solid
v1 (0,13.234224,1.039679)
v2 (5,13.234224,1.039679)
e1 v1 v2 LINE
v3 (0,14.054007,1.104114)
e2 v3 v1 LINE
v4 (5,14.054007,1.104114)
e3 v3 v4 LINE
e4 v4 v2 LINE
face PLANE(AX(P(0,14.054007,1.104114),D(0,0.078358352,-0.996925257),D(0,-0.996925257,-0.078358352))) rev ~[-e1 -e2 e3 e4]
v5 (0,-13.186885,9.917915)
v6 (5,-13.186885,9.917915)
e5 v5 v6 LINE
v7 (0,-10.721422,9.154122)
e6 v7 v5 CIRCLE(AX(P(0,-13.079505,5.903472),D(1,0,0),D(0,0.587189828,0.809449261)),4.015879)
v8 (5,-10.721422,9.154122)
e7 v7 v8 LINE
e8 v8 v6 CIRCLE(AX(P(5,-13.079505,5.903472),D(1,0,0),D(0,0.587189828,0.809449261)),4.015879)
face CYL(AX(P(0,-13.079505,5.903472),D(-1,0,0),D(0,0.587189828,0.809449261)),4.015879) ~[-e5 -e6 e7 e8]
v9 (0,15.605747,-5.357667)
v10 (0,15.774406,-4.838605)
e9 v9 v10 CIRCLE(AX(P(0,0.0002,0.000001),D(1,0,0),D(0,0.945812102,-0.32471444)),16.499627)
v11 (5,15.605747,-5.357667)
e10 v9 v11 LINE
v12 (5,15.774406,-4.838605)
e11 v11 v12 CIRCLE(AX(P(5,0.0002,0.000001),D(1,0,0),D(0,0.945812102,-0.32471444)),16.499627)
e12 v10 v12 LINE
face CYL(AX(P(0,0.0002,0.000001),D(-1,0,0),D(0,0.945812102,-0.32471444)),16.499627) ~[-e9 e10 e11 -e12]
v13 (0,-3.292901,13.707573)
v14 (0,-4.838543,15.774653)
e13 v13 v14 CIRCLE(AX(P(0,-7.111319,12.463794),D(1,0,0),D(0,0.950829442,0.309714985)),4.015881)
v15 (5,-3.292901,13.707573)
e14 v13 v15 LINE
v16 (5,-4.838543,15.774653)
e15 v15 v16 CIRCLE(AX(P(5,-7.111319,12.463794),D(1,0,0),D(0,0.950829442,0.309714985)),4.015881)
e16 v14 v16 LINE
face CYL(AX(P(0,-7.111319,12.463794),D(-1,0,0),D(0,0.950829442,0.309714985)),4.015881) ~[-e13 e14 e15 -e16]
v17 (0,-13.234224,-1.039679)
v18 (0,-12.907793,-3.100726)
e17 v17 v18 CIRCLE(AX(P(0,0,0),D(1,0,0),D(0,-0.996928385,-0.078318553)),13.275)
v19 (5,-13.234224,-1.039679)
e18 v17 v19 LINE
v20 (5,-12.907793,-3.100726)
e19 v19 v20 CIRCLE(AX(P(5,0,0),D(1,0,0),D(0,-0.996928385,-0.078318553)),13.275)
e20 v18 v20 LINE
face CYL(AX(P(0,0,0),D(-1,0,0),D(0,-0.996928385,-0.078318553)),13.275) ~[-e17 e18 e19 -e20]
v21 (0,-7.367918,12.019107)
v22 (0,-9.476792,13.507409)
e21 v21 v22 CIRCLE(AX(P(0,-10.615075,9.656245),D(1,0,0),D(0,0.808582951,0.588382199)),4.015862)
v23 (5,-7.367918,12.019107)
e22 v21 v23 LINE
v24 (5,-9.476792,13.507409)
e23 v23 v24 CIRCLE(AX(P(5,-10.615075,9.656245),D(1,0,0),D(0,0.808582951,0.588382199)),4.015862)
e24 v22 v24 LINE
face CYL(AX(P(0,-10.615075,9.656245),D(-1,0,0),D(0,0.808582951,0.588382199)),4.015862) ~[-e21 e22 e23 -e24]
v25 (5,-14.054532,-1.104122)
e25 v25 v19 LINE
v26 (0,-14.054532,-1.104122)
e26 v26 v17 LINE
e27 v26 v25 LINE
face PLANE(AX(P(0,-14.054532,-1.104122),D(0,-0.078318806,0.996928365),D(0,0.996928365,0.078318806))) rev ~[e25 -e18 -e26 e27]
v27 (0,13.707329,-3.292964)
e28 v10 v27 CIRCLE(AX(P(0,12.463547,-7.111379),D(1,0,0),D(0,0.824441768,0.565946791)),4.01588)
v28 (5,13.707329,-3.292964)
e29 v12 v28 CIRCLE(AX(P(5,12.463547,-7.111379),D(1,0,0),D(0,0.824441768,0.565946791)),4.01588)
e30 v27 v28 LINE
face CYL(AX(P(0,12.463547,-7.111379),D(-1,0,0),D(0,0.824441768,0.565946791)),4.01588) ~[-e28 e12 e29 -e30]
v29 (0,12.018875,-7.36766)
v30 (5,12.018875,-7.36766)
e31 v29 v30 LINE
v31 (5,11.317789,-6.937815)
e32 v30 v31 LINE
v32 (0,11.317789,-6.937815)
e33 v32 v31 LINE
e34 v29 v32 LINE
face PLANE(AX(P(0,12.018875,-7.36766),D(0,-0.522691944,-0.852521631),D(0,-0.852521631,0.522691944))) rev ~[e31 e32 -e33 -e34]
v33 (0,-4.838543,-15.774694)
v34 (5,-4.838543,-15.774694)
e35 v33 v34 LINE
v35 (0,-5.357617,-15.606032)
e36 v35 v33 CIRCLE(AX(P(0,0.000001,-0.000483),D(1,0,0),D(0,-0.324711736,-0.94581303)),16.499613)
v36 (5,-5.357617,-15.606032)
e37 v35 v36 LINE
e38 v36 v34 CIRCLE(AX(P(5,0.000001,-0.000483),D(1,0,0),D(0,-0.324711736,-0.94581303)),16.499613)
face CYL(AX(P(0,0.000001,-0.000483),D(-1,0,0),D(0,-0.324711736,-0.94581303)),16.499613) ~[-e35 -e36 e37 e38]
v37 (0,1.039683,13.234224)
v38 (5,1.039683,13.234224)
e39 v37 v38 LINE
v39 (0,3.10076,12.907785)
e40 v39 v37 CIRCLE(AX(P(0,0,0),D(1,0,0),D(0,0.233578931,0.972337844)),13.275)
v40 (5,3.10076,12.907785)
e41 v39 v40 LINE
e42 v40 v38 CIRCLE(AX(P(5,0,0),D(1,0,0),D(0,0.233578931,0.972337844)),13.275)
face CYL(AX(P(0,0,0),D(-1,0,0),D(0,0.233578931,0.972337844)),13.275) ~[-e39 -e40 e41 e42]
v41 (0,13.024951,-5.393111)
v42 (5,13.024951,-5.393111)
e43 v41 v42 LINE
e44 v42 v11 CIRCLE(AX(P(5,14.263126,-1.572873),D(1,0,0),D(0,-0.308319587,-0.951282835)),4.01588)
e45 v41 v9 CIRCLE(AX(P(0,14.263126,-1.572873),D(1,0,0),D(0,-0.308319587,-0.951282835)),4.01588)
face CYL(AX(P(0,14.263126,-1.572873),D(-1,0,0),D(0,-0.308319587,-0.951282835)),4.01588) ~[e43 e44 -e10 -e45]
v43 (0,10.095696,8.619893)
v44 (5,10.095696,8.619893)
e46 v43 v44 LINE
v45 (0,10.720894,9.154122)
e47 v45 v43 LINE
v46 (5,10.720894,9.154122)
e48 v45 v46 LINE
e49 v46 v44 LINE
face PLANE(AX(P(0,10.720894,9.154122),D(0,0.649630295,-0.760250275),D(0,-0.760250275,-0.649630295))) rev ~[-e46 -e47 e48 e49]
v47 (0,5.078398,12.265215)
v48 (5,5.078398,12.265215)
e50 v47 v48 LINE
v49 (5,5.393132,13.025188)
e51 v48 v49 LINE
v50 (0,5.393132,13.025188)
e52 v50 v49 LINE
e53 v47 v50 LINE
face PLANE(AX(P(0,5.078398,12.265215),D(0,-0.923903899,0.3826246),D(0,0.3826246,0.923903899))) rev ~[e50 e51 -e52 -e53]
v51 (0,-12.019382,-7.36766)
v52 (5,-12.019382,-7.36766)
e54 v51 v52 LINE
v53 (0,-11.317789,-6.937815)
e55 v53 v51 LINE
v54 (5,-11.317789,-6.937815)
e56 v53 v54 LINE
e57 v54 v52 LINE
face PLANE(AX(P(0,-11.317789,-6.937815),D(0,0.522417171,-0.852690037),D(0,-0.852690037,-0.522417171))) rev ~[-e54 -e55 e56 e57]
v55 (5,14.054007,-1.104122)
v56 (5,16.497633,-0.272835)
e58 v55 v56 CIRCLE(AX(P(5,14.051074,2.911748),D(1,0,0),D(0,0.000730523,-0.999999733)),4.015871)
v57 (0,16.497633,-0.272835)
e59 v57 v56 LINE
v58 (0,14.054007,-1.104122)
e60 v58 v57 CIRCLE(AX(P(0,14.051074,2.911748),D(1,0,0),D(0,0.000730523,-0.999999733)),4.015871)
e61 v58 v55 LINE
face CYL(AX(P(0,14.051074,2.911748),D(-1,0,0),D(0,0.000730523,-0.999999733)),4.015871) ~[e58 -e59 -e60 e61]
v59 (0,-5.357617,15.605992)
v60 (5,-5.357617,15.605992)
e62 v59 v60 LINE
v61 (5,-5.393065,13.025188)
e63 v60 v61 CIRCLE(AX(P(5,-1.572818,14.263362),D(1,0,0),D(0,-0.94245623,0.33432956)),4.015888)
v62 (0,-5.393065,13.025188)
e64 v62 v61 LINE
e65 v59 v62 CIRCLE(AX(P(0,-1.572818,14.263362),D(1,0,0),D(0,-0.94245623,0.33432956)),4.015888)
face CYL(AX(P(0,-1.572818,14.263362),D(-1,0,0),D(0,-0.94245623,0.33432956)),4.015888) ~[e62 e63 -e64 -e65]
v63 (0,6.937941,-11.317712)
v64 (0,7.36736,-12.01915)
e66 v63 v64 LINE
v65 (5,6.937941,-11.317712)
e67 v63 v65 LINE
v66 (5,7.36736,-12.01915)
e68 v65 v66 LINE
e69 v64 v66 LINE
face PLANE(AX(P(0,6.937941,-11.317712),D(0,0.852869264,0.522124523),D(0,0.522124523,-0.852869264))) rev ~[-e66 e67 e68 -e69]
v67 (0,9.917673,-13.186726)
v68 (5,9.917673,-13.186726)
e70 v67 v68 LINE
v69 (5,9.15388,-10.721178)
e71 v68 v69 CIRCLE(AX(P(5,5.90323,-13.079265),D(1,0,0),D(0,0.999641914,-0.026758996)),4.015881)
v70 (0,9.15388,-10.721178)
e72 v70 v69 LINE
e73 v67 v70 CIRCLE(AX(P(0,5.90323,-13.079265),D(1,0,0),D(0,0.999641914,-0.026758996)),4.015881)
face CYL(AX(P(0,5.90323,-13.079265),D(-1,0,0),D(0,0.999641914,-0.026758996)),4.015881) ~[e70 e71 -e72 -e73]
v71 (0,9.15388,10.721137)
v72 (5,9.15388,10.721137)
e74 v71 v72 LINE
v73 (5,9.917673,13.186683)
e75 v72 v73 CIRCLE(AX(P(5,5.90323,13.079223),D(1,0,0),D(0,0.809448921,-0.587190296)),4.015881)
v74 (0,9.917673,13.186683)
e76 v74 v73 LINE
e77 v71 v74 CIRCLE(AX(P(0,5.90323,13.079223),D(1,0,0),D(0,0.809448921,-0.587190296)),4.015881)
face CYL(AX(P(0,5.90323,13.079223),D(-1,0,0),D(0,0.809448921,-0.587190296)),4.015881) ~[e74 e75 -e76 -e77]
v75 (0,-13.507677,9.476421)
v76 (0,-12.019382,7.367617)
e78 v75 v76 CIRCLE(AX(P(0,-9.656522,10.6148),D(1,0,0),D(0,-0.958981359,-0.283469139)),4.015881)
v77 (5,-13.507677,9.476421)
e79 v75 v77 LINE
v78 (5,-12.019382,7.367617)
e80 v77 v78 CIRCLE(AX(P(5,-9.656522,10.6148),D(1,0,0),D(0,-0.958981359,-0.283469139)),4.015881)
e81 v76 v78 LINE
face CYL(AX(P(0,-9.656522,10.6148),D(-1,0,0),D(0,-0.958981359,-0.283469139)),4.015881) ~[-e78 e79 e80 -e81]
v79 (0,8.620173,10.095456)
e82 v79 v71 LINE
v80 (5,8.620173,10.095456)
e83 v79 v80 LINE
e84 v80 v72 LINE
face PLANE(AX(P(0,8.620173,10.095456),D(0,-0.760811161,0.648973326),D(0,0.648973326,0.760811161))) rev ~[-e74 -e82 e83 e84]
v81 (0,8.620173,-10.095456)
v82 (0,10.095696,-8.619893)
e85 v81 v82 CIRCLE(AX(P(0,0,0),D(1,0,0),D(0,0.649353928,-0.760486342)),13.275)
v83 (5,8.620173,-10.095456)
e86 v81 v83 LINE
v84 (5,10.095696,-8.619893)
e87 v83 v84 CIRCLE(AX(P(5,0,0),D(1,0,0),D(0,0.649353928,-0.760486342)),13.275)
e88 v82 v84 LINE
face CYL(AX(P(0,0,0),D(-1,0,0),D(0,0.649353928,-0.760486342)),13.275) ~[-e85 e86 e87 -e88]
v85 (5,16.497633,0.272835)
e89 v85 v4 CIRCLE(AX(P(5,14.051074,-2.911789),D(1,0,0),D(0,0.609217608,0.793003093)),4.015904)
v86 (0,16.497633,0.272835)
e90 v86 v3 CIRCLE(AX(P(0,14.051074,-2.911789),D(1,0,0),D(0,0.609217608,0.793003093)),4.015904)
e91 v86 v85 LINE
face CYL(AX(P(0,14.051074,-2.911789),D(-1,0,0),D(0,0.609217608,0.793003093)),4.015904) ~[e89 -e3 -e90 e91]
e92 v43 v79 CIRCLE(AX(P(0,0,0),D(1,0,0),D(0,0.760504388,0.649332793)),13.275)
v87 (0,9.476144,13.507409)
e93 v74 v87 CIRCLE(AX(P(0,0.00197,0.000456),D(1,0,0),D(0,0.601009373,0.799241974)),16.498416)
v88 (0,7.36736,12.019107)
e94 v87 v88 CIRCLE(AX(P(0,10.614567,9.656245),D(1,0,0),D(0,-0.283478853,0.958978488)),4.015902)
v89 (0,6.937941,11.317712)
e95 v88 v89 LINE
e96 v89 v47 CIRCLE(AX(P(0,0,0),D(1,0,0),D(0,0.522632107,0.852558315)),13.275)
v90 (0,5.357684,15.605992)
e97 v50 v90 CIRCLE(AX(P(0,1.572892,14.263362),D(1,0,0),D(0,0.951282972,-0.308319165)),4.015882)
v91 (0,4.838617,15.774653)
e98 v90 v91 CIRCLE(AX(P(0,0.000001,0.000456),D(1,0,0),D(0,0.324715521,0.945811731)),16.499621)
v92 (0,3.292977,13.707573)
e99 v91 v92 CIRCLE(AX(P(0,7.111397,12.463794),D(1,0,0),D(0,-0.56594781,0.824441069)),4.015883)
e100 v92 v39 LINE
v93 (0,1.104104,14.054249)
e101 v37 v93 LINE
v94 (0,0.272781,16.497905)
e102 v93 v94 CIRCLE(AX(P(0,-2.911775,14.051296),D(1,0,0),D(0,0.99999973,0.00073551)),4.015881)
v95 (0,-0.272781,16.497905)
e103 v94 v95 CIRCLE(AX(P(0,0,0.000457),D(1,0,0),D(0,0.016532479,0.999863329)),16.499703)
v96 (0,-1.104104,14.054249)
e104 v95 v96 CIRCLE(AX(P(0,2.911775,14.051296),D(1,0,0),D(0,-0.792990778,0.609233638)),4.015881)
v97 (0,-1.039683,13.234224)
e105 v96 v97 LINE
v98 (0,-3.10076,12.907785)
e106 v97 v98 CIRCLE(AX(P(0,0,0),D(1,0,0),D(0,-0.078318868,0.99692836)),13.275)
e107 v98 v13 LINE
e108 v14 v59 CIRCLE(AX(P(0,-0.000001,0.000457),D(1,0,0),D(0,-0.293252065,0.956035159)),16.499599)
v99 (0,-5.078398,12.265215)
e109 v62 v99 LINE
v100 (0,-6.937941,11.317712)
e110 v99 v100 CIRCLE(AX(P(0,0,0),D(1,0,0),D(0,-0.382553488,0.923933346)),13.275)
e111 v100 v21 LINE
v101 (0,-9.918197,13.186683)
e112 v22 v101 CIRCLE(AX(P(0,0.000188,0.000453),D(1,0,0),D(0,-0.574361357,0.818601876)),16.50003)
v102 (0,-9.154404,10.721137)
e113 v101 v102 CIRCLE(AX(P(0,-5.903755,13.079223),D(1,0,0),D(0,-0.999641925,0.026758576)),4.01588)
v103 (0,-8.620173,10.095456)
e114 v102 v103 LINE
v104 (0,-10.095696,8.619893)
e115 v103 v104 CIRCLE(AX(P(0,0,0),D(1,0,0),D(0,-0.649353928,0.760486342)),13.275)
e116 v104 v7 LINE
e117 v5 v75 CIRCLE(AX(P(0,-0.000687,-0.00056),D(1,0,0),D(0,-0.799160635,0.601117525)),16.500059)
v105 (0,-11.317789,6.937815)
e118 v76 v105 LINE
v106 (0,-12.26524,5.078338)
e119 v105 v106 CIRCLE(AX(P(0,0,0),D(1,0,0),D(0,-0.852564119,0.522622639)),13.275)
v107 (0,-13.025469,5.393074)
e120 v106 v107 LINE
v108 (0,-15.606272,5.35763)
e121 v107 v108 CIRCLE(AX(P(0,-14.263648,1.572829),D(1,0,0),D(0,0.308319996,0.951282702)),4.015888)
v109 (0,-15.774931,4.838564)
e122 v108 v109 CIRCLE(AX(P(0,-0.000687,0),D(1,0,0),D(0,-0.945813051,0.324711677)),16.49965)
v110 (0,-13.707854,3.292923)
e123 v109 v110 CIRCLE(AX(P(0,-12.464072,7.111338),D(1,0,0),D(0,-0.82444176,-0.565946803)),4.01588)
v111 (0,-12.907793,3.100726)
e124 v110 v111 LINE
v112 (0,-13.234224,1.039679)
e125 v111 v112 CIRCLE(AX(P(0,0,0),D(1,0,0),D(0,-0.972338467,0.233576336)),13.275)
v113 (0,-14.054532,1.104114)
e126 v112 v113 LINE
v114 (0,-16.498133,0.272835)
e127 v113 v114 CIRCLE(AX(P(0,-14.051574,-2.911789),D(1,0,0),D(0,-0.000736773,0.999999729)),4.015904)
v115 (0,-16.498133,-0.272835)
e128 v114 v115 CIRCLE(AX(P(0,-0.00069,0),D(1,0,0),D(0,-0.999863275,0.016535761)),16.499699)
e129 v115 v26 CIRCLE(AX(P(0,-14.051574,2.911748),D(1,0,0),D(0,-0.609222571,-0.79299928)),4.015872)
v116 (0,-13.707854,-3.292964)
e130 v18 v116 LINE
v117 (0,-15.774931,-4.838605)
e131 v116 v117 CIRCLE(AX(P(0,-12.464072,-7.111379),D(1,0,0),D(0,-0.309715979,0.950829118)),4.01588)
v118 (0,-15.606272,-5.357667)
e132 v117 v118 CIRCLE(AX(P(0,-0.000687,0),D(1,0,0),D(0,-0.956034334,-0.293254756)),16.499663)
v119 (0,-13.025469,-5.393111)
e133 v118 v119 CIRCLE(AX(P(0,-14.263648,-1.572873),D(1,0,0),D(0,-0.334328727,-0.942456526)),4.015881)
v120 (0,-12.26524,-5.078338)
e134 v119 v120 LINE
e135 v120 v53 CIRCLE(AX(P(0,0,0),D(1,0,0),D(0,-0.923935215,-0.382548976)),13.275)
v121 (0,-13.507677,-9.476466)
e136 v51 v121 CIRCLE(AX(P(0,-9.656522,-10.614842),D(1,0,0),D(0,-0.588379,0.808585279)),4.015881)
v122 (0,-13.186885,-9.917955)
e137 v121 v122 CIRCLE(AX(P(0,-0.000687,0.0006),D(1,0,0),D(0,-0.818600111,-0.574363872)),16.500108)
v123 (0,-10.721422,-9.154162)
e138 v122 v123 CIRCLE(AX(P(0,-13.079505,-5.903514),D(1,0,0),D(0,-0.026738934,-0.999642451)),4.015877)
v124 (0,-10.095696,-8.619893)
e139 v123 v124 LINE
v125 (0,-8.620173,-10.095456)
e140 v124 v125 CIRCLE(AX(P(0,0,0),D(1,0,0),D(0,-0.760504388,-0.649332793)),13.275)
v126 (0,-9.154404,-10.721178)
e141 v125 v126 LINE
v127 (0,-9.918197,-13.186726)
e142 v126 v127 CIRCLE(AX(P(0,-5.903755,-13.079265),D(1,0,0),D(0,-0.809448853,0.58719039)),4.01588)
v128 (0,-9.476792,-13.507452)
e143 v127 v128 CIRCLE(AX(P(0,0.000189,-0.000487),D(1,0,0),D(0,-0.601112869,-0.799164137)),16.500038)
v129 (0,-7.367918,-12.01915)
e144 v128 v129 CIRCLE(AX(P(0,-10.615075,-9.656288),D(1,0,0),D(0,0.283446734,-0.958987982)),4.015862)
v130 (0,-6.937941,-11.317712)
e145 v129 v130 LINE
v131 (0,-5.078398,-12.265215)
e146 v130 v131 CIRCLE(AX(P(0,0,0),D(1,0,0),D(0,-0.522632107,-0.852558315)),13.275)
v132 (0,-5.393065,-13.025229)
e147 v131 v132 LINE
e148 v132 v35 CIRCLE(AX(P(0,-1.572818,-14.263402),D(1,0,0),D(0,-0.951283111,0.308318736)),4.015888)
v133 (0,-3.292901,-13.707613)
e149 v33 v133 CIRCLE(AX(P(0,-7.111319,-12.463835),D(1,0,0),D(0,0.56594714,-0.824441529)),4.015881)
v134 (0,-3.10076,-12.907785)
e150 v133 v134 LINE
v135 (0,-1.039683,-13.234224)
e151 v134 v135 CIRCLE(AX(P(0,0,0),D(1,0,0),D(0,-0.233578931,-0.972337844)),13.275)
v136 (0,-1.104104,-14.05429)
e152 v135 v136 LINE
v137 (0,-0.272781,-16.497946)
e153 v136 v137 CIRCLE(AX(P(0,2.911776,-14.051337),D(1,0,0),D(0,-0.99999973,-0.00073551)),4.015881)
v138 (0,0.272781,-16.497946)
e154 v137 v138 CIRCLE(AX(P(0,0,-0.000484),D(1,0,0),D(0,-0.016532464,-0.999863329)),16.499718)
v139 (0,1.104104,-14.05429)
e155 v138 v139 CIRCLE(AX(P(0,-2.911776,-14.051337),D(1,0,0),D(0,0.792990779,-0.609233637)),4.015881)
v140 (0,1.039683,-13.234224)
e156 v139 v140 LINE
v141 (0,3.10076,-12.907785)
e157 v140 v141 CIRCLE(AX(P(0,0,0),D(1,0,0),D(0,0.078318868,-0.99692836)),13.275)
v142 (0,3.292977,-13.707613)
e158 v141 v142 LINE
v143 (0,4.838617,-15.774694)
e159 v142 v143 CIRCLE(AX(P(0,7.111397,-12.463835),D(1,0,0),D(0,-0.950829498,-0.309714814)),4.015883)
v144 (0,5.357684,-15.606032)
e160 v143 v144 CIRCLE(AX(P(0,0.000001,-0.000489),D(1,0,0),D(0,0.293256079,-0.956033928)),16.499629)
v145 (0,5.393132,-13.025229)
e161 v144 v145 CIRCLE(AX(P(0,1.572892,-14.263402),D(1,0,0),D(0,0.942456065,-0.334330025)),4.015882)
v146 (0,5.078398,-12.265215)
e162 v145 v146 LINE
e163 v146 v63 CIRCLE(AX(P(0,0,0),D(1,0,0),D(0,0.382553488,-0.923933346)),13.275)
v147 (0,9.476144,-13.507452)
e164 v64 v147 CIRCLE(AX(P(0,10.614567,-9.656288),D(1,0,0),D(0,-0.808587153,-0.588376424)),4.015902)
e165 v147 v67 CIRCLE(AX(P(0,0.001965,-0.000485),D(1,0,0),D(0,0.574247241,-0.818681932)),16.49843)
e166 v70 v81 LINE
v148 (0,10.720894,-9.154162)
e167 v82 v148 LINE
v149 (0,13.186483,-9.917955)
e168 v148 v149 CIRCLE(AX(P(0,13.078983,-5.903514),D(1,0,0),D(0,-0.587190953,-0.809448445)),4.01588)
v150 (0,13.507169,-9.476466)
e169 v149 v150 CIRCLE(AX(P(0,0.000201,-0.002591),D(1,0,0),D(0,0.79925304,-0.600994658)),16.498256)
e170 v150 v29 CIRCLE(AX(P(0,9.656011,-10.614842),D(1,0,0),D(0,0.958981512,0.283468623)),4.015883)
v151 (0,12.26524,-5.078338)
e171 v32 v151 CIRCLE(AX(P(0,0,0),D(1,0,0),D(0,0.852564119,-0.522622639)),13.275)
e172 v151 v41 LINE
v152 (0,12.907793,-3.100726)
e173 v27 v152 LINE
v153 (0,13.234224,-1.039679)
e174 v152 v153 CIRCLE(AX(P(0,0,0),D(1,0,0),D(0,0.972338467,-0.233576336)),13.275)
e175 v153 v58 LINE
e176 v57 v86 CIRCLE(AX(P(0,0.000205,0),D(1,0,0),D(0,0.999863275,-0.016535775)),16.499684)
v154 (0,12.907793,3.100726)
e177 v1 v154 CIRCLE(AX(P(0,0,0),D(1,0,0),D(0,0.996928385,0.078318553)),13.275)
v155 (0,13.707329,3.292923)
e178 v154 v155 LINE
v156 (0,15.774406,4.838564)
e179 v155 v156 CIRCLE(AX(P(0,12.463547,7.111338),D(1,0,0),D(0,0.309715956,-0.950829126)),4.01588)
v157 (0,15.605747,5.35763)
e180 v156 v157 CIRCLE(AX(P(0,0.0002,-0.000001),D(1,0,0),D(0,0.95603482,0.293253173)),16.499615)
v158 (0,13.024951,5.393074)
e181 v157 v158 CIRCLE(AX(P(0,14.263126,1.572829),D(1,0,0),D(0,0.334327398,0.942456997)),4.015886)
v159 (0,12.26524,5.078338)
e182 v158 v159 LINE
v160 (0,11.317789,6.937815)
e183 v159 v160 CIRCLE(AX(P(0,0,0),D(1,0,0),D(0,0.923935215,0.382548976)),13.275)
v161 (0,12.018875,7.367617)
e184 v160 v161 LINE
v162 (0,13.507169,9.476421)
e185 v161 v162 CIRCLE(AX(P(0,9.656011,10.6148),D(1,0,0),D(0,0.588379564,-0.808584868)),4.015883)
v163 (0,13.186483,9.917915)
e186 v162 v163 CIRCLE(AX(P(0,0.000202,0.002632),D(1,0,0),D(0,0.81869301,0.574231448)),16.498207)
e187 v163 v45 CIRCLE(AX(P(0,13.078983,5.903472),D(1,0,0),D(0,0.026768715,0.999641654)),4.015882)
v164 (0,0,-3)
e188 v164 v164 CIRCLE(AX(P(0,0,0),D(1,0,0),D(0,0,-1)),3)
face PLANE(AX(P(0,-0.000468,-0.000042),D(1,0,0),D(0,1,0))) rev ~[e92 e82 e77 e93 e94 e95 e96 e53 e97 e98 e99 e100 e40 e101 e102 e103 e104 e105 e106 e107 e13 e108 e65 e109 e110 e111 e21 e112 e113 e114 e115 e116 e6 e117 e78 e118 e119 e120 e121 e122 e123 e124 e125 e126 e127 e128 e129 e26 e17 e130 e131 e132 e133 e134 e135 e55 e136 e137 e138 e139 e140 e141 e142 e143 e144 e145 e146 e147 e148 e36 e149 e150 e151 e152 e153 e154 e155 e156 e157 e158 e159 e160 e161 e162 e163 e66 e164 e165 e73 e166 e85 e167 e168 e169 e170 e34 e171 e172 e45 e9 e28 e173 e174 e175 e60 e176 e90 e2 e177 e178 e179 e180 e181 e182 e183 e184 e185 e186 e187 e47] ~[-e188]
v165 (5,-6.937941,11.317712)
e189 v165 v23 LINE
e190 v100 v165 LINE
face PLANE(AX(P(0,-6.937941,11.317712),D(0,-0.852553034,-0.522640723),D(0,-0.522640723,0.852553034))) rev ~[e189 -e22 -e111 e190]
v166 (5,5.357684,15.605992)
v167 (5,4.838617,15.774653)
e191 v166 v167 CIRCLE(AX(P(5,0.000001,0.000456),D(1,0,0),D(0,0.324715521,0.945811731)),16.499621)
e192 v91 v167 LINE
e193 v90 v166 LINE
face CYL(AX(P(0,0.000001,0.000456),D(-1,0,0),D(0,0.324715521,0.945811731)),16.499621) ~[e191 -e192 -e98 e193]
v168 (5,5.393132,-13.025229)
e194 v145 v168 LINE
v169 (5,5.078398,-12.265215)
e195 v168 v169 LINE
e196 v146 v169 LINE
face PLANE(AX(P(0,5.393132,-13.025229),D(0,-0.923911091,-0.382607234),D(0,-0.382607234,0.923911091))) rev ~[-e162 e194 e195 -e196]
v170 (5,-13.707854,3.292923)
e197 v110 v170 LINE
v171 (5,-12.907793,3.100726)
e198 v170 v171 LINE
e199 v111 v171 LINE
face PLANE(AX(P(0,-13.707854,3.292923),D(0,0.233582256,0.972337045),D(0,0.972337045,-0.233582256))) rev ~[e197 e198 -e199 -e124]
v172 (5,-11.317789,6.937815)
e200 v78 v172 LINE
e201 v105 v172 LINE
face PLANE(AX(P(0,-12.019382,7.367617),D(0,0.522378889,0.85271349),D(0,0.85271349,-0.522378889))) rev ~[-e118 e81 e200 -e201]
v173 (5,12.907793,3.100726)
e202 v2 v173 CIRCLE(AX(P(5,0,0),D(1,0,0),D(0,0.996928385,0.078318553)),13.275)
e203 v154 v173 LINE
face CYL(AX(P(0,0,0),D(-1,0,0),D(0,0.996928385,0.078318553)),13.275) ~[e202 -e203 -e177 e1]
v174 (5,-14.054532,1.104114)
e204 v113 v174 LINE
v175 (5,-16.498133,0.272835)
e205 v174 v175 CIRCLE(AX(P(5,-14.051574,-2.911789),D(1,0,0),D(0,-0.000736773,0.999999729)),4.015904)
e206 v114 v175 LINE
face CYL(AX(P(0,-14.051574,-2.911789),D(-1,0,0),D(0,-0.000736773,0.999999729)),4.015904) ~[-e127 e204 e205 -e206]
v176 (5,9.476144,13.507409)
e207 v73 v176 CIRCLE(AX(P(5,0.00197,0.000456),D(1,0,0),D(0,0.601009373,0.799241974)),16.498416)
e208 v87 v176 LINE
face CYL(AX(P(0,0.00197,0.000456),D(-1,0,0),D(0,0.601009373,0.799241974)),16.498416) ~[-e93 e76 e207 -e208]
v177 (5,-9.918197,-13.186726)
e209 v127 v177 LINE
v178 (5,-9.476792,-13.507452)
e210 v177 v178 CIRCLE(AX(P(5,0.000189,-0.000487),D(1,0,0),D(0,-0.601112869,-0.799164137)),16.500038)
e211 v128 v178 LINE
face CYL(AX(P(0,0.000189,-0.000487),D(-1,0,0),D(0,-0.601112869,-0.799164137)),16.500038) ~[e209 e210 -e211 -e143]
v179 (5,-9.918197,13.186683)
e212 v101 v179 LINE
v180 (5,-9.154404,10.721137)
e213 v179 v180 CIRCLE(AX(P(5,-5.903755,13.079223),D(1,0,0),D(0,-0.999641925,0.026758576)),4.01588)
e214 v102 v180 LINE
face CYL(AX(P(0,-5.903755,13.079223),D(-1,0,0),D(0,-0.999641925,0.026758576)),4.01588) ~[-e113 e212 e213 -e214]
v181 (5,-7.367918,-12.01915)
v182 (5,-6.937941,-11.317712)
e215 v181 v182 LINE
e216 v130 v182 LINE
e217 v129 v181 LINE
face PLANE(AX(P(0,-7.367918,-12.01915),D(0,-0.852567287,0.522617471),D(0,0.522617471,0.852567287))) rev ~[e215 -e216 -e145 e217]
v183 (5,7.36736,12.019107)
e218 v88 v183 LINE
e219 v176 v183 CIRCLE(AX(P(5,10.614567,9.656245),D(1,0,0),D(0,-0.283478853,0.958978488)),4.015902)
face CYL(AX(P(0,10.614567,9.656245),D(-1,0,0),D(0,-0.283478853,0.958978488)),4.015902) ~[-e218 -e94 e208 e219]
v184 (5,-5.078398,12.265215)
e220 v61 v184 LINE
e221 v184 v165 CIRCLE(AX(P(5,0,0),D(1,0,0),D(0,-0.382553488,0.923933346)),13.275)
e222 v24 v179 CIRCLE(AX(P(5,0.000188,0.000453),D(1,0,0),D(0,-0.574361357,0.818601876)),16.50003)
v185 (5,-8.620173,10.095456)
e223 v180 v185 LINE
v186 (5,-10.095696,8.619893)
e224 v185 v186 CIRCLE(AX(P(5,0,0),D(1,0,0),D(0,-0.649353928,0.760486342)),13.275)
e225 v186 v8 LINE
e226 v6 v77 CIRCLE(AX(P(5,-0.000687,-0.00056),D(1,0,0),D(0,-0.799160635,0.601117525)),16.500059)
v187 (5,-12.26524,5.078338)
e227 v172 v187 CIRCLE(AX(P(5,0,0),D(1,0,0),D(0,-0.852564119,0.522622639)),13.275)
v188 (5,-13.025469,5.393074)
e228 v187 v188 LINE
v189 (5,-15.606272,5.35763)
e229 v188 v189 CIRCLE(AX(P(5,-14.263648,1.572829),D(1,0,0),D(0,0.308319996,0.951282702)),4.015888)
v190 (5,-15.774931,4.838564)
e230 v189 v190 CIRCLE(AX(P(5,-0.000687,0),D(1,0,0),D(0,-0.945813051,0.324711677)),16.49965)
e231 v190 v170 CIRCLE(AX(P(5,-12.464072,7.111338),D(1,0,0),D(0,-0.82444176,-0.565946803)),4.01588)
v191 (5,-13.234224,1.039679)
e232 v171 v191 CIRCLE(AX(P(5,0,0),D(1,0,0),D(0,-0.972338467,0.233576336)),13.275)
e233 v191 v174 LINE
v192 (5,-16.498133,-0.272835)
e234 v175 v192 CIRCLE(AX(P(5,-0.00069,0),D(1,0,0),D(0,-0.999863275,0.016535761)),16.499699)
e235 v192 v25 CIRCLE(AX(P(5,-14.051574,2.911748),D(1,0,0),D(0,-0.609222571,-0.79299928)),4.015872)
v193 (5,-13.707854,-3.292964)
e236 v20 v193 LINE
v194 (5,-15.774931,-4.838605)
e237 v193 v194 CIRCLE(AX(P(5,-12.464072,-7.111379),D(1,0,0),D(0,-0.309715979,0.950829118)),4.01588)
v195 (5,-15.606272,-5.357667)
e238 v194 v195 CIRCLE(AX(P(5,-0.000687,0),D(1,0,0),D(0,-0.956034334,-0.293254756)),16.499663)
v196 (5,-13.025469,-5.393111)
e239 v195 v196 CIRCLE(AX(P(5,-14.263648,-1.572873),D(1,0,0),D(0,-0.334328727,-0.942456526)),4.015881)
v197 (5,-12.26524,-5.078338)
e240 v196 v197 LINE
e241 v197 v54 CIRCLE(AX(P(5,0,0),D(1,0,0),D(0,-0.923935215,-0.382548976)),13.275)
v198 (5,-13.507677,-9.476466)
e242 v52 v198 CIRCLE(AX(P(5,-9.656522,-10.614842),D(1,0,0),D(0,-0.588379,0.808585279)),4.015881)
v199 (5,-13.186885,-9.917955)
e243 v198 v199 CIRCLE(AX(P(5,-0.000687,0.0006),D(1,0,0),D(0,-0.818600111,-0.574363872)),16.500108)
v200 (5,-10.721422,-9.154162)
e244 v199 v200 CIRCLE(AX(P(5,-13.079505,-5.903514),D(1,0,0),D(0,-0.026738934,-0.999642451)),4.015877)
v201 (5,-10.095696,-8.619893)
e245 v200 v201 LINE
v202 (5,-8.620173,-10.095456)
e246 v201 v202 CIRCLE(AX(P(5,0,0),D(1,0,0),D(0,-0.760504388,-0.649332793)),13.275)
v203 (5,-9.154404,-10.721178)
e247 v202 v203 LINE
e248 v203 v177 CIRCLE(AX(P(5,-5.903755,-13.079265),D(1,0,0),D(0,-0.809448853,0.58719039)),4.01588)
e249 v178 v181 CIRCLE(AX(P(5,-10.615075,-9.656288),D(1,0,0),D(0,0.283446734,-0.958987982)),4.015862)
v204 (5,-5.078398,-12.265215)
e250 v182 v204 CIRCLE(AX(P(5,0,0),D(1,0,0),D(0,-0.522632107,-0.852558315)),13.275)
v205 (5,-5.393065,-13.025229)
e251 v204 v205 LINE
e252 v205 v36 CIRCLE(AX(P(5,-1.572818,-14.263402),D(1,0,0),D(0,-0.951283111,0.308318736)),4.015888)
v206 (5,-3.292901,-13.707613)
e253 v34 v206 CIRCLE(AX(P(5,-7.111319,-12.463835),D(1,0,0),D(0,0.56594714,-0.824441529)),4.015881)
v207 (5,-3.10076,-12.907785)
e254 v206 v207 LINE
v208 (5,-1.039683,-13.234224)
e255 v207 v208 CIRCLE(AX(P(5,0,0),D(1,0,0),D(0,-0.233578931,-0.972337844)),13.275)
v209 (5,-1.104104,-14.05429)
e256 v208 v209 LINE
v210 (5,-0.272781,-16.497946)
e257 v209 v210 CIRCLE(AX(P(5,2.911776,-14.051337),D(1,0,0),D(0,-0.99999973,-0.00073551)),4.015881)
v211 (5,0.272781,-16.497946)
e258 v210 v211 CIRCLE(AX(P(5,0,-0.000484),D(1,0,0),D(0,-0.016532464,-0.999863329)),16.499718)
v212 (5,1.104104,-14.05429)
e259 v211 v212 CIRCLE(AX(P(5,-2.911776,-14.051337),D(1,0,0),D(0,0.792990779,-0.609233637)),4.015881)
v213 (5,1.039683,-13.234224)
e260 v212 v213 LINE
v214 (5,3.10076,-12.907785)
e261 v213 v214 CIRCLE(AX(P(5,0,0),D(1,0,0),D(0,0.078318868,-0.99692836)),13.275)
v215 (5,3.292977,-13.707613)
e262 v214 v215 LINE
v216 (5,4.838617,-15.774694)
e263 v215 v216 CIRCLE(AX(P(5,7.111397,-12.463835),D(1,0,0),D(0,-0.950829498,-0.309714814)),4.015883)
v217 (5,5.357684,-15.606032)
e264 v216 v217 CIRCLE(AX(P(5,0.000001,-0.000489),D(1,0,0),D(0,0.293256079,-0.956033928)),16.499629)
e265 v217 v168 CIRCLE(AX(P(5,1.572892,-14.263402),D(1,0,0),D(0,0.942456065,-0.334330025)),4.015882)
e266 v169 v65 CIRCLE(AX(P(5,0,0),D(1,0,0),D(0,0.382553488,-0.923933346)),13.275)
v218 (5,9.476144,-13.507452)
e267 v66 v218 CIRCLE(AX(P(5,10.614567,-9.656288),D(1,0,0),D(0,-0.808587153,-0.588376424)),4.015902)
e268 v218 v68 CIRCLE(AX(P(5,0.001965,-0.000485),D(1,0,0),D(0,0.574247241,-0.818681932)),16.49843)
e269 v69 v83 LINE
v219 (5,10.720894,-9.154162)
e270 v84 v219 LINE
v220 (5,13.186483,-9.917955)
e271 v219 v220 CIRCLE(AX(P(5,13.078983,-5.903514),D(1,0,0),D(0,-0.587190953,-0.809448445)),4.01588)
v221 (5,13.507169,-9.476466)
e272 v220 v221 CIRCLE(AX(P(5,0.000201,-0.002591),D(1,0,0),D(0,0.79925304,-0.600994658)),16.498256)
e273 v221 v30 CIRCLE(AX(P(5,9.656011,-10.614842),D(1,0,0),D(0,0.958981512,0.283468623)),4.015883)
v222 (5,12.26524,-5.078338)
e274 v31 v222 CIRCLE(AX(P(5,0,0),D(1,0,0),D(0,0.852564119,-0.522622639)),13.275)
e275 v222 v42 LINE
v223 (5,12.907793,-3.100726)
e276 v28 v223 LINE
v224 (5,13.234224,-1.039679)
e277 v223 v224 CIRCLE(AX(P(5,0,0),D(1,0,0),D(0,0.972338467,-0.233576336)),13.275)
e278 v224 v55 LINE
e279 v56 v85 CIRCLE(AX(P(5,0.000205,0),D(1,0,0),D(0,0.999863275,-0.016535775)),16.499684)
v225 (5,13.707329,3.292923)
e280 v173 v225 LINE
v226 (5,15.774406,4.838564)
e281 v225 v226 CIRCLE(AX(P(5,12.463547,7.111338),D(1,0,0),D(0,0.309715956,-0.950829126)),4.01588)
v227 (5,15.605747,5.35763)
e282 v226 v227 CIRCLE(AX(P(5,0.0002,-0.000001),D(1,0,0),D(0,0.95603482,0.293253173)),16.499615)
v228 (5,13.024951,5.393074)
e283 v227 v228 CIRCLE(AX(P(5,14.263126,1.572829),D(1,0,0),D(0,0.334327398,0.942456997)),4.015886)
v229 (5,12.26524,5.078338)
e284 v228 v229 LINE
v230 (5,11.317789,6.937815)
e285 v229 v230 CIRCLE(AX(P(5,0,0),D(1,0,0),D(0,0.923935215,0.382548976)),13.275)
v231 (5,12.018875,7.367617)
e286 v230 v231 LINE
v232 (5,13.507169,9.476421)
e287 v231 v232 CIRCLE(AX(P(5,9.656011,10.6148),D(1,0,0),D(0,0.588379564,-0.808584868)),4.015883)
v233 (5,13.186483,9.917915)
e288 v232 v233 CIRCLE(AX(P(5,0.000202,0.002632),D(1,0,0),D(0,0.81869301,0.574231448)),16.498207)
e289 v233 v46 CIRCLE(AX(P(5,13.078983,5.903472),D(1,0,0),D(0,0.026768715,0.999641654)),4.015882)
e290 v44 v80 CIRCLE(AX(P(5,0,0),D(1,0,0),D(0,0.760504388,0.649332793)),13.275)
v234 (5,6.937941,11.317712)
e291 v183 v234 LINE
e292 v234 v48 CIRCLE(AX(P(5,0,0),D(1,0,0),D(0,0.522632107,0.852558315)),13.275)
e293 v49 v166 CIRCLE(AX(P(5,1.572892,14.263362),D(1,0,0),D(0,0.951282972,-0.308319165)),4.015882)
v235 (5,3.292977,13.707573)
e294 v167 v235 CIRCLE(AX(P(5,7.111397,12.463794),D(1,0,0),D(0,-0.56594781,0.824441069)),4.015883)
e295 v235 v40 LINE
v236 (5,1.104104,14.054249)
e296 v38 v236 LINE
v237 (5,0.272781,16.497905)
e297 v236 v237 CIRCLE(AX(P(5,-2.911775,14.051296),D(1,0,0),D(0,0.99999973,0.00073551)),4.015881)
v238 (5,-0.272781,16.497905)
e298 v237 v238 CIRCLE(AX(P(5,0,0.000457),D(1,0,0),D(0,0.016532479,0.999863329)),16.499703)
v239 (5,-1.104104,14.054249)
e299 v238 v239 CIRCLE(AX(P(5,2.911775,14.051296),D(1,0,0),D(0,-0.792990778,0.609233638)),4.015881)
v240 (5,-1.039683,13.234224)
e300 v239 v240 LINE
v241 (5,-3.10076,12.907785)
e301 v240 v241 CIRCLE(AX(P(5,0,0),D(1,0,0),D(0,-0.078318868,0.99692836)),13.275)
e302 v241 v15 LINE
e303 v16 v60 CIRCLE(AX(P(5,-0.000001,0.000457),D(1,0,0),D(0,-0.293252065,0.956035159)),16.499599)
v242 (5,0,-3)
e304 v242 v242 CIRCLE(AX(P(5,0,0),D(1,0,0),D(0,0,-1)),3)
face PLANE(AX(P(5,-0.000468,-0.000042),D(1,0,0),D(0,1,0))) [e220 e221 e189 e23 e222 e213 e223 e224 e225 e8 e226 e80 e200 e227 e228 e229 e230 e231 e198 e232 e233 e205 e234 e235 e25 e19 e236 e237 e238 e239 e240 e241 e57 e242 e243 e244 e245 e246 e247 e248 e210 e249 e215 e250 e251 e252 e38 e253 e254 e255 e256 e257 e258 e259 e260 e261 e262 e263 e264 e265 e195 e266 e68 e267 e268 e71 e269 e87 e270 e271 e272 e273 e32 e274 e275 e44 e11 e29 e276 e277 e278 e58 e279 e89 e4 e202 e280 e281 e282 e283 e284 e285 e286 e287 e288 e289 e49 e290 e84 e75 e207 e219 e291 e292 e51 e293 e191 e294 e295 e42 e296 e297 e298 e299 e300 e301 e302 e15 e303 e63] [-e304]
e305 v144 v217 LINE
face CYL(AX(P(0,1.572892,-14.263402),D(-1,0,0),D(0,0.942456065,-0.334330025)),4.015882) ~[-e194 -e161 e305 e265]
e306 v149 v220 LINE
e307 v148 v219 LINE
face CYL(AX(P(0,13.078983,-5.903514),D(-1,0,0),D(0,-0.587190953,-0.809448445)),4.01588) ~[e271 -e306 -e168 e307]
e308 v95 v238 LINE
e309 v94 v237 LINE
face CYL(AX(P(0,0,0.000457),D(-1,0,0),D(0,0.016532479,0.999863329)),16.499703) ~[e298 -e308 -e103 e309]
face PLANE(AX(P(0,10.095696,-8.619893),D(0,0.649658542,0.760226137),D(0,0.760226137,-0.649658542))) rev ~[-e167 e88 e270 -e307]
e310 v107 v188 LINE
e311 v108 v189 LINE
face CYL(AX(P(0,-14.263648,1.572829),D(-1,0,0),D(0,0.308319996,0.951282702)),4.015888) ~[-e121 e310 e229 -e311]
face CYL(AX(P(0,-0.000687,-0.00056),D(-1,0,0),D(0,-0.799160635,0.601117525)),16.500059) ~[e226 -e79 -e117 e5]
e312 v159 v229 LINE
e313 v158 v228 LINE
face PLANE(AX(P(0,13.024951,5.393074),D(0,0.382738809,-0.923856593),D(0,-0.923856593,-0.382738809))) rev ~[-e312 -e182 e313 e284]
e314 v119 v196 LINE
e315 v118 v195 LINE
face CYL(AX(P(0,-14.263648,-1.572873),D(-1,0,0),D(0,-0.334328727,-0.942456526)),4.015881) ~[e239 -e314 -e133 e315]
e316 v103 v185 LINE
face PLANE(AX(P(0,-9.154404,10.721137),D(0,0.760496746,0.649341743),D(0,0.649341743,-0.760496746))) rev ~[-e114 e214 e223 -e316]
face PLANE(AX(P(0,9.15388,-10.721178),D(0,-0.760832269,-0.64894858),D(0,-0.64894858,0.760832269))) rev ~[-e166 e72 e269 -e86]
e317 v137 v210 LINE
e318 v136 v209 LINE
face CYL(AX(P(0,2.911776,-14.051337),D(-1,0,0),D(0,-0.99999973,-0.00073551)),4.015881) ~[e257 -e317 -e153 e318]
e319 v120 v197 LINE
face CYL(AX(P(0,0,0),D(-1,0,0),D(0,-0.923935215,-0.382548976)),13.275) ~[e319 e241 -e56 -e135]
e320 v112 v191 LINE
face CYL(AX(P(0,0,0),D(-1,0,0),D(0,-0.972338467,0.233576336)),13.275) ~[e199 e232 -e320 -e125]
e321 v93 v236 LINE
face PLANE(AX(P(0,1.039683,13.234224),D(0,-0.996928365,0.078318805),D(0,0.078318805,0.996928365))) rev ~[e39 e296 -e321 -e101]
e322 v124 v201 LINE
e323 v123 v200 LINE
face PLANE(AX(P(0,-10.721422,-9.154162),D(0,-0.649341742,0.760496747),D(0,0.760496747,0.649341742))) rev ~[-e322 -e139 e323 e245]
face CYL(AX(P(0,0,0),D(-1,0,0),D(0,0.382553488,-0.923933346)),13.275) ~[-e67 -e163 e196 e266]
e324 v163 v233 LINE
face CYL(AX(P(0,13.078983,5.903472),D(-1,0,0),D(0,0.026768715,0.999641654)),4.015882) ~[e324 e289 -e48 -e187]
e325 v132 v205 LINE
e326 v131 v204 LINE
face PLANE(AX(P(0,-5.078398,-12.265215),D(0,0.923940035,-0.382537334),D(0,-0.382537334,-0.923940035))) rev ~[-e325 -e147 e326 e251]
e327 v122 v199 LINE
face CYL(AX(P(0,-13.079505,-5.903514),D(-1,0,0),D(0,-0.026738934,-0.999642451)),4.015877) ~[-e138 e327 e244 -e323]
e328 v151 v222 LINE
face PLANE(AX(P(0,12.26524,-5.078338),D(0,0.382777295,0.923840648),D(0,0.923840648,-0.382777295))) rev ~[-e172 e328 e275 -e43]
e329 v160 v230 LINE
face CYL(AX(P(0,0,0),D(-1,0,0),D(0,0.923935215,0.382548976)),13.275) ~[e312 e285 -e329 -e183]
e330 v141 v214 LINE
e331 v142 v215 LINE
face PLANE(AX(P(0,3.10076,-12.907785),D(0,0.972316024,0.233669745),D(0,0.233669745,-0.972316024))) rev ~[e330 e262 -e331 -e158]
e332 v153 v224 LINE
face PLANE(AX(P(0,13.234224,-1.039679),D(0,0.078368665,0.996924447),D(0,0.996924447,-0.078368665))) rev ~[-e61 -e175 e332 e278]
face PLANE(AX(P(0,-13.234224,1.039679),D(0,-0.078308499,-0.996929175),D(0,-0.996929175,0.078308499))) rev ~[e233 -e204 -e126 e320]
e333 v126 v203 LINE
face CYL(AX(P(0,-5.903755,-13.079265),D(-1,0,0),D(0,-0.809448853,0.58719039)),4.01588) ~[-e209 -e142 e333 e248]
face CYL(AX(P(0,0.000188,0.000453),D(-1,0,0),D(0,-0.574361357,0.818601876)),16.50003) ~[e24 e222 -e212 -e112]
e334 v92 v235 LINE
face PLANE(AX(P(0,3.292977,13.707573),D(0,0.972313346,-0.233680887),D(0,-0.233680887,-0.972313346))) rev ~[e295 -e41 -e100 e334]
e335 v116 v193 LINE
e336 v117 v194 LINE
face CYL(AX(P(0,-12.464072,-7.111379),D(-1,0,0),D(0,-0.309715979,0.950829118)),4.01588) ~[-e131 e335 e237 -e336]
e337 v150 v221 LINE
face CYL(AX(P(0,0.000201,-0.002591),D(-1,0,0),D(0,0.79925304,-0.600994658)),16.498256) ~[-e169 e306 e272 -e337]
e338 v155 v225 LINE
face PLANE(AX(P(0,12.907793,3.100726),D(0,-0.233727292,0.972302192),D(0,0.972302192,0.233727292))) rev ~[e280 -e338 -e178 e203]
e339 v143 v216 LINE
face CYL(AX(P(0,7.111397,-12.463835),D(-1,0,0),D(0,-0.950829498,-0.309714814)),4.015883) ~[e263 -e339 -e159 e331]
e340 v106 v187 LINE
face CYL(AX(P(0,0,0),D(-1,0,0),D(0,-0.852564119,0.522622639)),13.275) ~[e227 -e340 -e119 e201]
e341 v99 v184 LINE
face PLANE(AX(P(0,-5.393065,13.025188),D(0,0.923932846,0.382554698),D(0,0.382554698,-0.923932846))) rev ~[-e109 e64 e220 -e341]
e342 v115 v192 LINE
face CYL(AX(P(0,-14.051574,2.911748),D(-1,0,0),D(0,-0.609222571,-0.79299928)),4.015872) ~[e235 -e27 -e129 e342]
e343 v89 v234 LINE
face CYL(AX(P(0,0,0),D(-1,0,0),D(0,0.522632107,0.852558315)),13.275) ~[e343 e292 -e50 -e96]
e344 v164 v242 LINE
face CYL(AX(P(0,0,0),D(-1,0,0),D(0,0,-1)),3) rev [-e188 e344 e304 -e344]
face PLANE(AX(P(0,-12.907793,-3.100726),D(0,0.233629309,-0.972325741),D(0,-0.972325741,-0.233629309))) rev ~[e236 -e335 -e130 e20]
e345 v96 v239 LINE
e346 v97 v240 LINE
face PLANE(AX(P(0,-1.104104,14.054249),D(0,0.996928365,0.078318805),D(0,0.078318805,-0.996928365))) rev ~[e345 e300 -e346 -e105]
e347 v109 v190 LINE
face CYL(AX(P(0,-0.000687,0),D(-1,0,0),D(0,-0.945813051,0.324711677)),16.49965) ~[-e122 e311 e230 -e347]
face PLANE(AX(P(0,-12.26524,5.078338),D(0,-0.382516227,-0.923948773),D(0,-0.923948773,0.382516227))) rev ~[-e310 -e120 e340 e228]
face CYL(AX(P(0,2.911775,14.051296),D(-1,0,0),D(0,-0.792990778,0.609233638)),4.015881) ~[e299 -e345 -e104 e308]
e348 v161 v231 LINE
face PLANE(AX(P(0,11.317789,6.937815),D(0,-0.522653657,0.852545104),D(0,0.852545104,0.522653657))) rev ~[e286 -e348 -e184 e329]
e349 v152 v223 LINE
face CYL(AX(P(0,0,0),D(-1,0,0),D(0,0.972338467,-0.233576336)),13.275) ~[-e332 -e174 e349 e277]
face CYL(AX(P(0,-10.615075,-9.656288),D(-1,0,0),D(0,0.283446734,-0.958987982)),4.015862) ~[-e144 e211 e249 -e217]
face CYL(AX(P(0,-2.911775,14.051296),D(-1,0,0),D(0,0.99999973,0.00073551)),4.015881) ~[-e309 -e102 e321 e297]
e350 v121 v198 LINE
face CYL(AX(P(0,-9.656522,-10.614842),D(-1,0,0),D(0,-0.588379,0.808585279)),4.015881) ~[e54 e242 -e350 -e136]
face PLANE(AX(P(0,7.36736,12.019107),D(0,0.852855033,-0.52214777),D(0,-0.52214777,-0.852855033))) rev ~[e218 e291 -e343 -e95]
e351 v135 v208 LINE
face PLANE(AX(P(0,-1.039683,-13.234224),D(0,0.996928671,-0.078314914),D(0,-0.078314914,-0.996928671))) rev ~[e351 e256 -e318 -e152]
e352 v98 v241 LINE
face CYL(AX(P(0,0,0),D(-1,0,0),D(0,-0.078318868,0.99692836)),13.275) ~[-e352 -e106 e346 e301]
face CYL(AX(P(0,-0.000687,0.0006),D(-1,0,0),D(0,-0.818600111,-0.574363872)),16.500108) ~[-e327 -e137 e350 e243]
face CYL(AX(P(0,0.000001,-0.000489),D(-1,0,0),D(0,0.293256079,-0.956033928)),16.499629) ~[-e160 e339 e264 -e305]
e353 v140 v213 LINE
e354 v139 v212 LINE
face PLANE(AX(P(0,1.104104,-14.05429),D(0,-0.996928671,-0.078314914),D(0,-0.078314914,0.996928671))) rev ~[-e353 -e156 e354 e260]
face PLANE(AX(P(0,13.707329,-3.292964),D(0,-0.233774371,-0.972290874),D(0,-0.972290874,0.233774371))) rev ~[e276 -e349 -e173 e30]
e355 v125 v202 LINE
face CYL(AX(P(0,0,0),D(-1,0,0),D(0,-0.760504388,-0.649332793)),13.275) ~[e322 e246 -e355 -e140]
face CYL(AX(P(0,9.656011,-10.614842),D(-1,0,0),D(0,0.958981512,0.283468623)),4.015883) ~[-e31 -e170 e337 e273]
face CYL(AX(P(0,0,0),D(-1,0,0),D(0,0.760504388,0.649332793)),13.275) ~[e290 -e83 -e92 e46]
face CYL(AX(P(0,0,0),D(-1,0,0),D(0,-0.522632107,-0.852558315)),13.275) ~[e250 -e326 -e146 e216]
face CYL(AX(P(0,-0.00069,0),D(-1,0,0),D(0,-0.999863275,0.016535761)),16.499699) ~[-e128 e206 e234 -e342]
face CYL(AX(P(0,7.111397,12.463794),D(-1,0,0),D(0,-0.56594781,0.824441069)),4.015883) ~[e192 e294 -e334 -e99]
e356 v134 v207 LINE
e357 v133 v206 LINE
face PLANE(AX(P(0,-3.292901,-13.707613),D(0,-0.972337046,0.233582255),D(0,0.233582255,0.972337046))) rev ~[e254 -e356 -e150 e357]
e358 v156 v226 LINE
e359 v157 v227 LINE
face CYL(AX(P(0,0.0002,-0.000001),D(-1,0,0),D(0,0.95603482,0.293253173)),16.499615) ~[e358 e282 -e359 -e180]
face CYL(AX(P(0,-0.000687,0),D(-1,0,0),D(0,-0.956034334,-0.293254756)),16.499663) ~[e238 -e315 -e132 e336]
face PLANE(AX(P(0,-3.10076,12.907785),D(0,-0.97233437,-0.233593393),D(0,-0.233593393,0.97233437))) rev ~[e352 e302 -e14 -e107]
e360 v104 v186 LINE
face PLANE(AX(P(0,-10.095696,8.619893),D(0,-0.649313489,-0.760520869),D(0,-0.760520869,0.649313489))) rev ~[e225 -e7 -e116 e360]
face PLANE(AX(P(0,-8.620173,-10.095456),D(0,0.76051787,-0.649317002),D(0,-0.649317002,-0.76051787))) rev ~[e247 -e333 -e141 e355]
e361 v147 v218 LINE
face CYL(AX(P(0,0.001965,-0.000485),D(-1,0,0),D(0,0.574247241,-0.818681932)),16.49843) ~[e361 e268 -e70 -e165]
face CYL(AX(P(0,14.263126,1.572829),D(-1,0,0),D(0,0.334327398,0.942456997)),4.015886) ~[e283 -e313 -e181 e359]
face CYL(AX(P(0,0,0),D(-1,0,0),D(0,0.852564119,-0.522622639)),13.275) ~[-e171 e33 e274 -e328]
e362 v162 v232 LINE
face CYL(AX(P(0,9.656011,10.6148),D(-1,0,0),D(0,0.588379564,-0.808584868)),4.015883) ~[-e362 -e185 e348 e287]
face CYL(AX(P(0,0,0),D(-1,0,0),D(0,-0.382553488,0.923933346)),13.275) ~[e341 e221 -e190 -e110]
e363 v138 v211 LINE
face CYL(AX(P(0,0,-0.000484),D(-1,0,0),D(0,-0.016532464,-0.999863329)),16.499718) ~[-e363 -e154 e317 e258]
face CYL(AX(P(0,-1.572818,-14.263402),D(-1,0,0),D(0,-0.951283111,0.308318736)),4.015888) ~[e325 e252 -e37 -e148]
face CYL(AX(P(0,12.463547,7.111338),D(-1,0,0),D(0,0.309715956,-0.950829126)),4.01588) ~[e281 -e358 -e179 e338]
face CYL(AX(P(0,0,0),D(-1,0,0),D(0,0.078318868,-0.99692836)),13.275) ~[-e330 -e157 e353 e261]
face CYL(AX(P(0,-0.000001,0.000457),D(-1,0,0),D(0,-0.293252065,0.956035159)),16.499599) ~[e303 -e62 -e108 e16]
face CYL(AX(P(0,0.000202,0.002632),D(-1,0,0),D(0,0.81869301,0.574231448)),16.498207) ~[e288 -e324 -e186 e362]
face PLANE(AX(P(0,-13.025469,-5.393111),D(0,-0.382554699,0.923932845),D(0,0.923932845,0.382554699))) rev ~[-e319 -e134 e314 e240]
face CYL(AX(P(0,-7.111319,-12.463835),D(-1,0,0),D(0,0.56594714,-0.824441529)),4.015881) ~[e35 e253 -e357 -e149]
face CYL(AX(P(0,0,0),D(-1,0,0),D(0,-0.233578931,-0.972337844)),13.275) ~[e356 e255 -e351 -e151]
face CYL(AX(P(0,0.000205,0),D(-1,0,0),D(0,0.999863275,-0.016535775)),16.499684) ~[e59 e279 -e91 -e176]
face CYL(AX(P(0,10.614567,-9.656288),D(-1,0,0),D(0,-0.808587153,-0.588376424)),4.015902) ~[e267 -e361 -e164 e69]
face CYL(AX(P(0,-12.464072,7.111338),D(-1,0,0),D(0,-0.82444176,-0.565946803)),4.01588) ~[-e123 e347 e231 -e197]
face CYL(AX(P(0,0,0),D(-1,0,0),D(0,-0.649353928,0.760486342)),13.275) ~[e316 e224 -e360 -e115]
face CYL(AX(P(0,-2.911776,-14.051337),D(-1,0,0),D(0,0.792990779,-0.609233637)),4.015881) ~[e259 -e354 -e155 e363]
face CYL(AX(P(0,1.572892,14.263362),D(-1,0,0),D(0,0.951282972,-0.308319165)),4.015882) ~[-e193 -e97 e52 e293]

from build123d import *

# Parameters (mm, degrees)
MODEL_R             = 3
BOSS_EXTRUDE3_DEPTH = 5


with BuildPart() as part:
    # Model → Boss-Extrude3 (new body)
    with BuildSketch(Plane.YZ):
        with BuildLine():
            Line((13.23422421, -1.039678776), (14.054007268, -1.104122279))
            ThreePointArc((14.054007268, -1.104122279), (15.344427311, -0.890154011), (16.497633121, -0.272835077))
            ThreePointArc((16.497633121, -0.272835077), (16.499889045, 0), (16.497633121, 0.272835077))
            ThreePointArc((16.497633121, 0.272835077), (15.34442594, 0.890147785), (14.054007268, 1.104113746))
            Line((14.054007268, 1.104113746), (13.23422421, 1.039678776))
            ThreePointArc((13.23422421, 1.039678776), (13.111569145, 2.076626337), (12.907793057, 3.100725851))
            Line((12.907793057, 3.100725851), (13.707329207, 3.292922702))
            ThreePointArc((13.707329207, 3.292922702), (14.868425654, 3.895152548), (15.774406226, 4.838563885))
            ThreePointArc((15.774406226, 4.838563885), (15.692222832, 5.098794143), (15.60574669, 5.357629562))
            ThreePointArc((15.60574669, 5.357629562), (14.318274111, 5.588337046), (13.024951323, 5.393073752))
            Line((13.024951323, 5.393073752), (12.265239884, 5.078337619))
            ThreePointArc((12.265239884, 5.078337619), (11.828111536, 6.02672381), (11.317788592, 6.937815491))
            Line((11.317788592, 6.937815491), (12.018874896, 7.367617174))
            ThreePointArc((12.018874896, 7.367617174), (12.937059572, 8.29919163), (13.507168648, 9.476421305))
            ThreePointArc((13.507168648, 9.476421305), (13.348651089, 9.698493941), (13.186482736, 9.917914762))
            ThreePointArc((13.186482736, 9.917914762), (11.890651127, 9.739508353), (10.72089422, 9.154121999))
            Line((10.72089422, 9.154121999), (10.095695669, 8.619892769))
            ThreePointArc((10.095695669, 8.619892769), (9.386972883, 9.386712017), (8.620173331, 10.095456114))
            Line((8.620173331, 10.095456114), (9.153880493, 10.721137246))
            ThreePointArc((9.153880493, 10.721137246), (9.739259724, 11.890873647), (9.917672889, 13.186682597))
            ThreePointArc((9.917672889, 13.186682597), (9.698234401, 13.348871345), (9.476143545, 13.507408695))
            ThreePointArc((9.476143545, 13.507408695), (8.298924763, 12.937292239), (7.367360076, 12.019107034))
            Line((7.367360076, 12.019107034), (6.937941159, 11.317711556))
            ThreePointArc((6.937941159, 11.317711556), (6.026818359, 11.828063361), (5.078397518, 12.265215084))
            Line((5.078397518, 12.265215084), (5.393131966, 13.025188132))
            ThreePointArc((5.393131966, 13.025188132), (5.588395055, 14.318515258), (5.357684148, 15.605991551))
            ThreePointArc((5.357684148, 15.605991551), (5.098848094, 15.692468837), (4.838617177, 15.774653351))
            ThreePointArc((4.838617177, 15.774653351), (3.895206219, 14.868670943), (3.292977313, 13.707572882))
            Line((3.292977313, 13.707572882), (3.100760275, 12.907784787))
            ThreePointArc((3.100760275, 12.907784787), (2.076645901, 13.111566047), (1.039682977, 13.23422388))
            Line((1.039682977, 13.23422388), (1.104104268, 14.054249317))
            ThreePointArc((1.104104268, 14.054249317), (0.890123262, 15.344688358), (0.272780986, 16.497905294))
            ThreePointArc((0.272780986, 16.497905294), (0, 16.500160321), (-0.272780986, 16.497905294))
            ThreePointArc((-0.272780986, 16.497905294), (-0.890123262, 15.344688358), (-1.104104268, 14.054249317))
            Line((-1.104104268, 14.054249317), (-1.039682977, 13.23422388))
            ThreePointArc((-1.039682977, 13.23422388), (-2.076645901, 13.111566047), (-3.100760275, 12.907784787))
            Line((-3.100760275, 12.907784787), (-3.292901189, 13.707572882))
            ThreePointArc((-3.292901189, 13.707572882), (-3.895130728, 14.8686712), (-4.838542654, 15.774653351))
            ThreePointArc((-4.838542654, 15.774653351), (-5.09877719, 15.692468897), (-5.357616845, 15.605991551))
            ThreePointArc((-5.357616845, 15.605991551), (-5.588327412, 14.318515249), (-5.393064608, 13.025188132))
            Line((-5.393064608, 13.025188132), (-5.078397518, 12.265215084))
            ThreePointArc((-5.078397518, 12.265215084), (-6.026818359, 11.828063361), (-6.937941159, 11.317711556))
            Line((-6.937941159, 11.317711556), (-7.367917741, 12.019107034))
            ThreePointArc((-7.367917741, 12.019107034), (-8.299522933, 12.93730687), (-9.476792265, 13.507408695))
            ThreePointArc((-9.476792265, 13.507408695), (-9.69882033, 13.348870312), (-9.918196776, 13.186682597))
            ThreePointArc((-9.918196776, 13.186682597), (-9.739783579, 11.890873626), (-9.154404251, 10.721137246))
            Line((-9.154404251, 10.721137246), (-8.620173331, 10.095456114))
            ThreePointArc((-8.620173331, 10.095456114), (-9.386972883, 9.386712017), (-10.095695669, 8.619892769))
            Line((-10.095695669, 8.619892769), (-10.721421894, 9.154121999))
            ThreePointArc((-10.721421894, 9.154121999), (-11.891119242, 9.739488239), (-13.18688523, 9.917914762))
            ThreePointArc((-13.18688523, 9.917914762), (-13.349106741, 9.698494383), (-13.507677449, 9.476421305))
            ThreePointArc((-13.507677449, 9.476421305), (-12.937567793, 8.29919139), (-12.019382207, 7.367617174))
            Line((-12.019382207, 7.367617174), (-11.317788592, 6.937815491))
            ThreePointArc((-11.317788592, 6.937815491), (-11.828111536, 6.02672381), (-12.265239884, 5.078337619))
            Line((-12.265239884, 5.078337619), (-13.025469237, 5.393073752))
            ThreePointArc((-13.025469237, 5.393073752), (-14.318795833, 5.588338267), (-15.606272205, 5.357629562))
            ThreePointArc((-15.606272205, 5.357629562), (-15.692748124, 5.098794139), (-15.774931305, 4.838563885))
            ThreePointArc((-15.774931305, 4.838563885), (-14.868950755, 3.895152556), (-13.707854335, 3.292922702))
            Line((-13.707854335, 3.292922702), (-12.907793057, 3.100725851))
            ThreePointArc((-12.907793057, 3.100725851), (-13.111569145, 2.076626337), (-13.23422421, 1.039678776))
            Line((-13.23422421, 1.039678776), (-14.05453238, 1.104113746))
            ThreePointArc((-14.05453238, 1.104113746), (-15.344937836, 0.890143752), (-16.498133136, 0.272835077))
            ThreePointArc((-16.498133136, 0.272835077), (-16.500389058, 0), (-16.498133136, -0.272835077))
            ThreePointArc((-16.498133136, -0.272835077), (-15.344939207, -0.890149979), (-14.05453238, -1.104122279))
            Line((-14.05453238, -1.104122279), (-13.23422421, -1.039678776))
            ThreePointArc((-13.23422421, -1.039678776), (-13.111569145, -2.076626337), (-12.907793057, -3.100725851))
            Line((-12.907793057, -3.100725851), (-13.707854335, -3.292963653))
            ThreePointArc((-13.707854335, -3.292963653), (-14.868950761, -3.895193523), (-15.774931305, -4.838604875))
            ThreePointArc((-15.774931305, -4.838604875), (-15.692748091, -5.098833138), (-15.606272205, -5.35766658))
            ThreePointArc((-15.606272205, -5.35766658), (-14.318795843, -5.588375668), (-13.025469237, -5.393110833))
            Line((-13.025469237, -5.393110833), (-12.265239884, -5.078337619))
            ThreePointArc((-12.265239884, -5.078337619), (-11.828111536, -6.02672381), (-11.317788592, -6.937815491))
            Line((-11.317788592, -6.937815491), (-12.019382207, -7.367660494))
            ThreePointArc((-12.019382207, -7.367660494), (-12.937567956, -8.299235159), (-13.507677449, -9.476465634))
            ThreePointArc((-13.507677449, -9.476465634), (-13.34910671, -9.698536821), (-13.18688523, -9.917955332))
            ThreePointArc((-13.18688523, -9.917955332), (-11.891119181, -9.739528715), (-10.721421894, -9.154162191))
            Line((-10.721421894, -9.154162191), (-10.095695669, -8.619892769))
            ThreePointArc((-10.095695669, -8.619892769), (-9.386972883, -9.386712017), (-8.620173331, -10.095456114))
            Line((-8.620173331, -10.095456114), (-9.154404251, -10.721178465))
            ThreePointArc((-9.154404251, -10.721178465), (-9.739783866, -11.890915694), (-9.918196776, -13.186725599))
            ThreePointArc((-9.918196776, -13.186725599), (-9.698820328, -13.348913221), (-9.476792265, -13.507451513))
            ThreePointArc((-9.476792265, -13.507451513), (-8.299522952, -12.937349732), (-7.367917741, -12.019149967))
            Line((-7.367917741, -12.019149967), (-6.937941159, -11.317711556))
            ThreePointArc((-6.937941159, -11.317711556), (-6.026818359, -11.828063361), (-5.078397518, -12.265215084))
            Line((-5.078397518, -12.265215084), (-5.393064608, -13.025228542))
            ThreePointArc((-5.393064608, -13.025228542), (-5.588327412, -14.31855566), (-5.357616845, -15.606031962))
            ThreePointArc((-5.357616845, -15.606031962), (-5.098777189, -15.692509269), (-4.838542654, -15.774693688))
            ThreePointArc((-4.838542654, -15.774693688), (-3.895130728, -14.868711537), (-3.292901189, -13.707613219))
            Line((-3.292901189, -13.707613219), (-3.100760275, -12.907784787))
            ThreePointArc((-3.100760275, -12.907784787), (-2.076645901, -13.111566047), (-1.039682977, -13.23422388))
            Line((-1.039682977, -13.23422388), (-1.104104268, -14.054290311))
            ThreePointArc((-1.104104268, -14.054290311), (-0.890123262, -15.344729352), (-0.272780986, -16.497946289))
            ThreePointArc((-0.272780986, -16.497946289), (0, -16.500201314), (0.272780986, -16.497946289))
            ThreePointArc((0.272780986, -16.497946289), (0.890123262, -15.344729352), (1.104104268, -14.054290311))
            Line((1.104104268, -14.054290311), (1.039682977, -13.23422388))
            ThreePointArc((1.039682977, -13.23422388), (2.076645901, -13.111566047), (3.100760275, -12.907784787))
            Line((3.100760275, -12.907784787), (3.292977313, -13.707613219))
            ThreePointArc((3.292977313, -13.707613219), (3.895206219, -14.868711279), (4.838617177, -15.774693688))
            ThreePointArc((4.838617177, -15.774693688), (5.098848093, -15.69250921), (5.357684148, -15.606031962))
            ThreePointArc((5.357684148, -15.606031962), (5.588395055, -14.318555669), (5.393131966, -13.025228542))
            Line((5.393131966, -13.025228542), (5.078397518, -12.265215084))
            ThreePointArc((5.078397518, -12.265215084), (6.026818359, -11.828063361), (6.937941159, -11.317711556))
            Line((6.937941159, -11.317711556), (7.367360076, -12.019149967))
            ThreePointArc((7.367360076, -12.019149967), (8.298924781, -12.937335102), (9.476143545, -13.507451513))
            ThreePointArc((9.476143545, -13.507451513), (9.698234399, -13.348914253), (9.917672889, -13.186725599))
            ThreePointArc((9.917672889, -13.186725599), (9.73926001, -11.890915714), (9.153880493, -10.721178465))
            Line((9.153880493, -10.721178465), (8.620173331, -10.095456114))
            ThreePointArc((8.620173331, -10.095456114), (9.386972883, -9.386712017), (10.095695669, -8.619892769))
            Line((10.095695669, -8.619892769), (10.72089422, -9.154162191))
            ThreePointArc((10.72089422, -9.154162191), (11.890651066, -9.739548829), (13.186482736, -9.917955332))
            ThreePointArc((13.186482736, -9.917955332), (13.348651058, -9.698536379), (13.507168648, -9.476465634))
            ThreePointArc((13.507168648, -9.476465634), (12.937059735, -8.299235399), (12.018874896, -7.367660494))
            Line((12.018874896, -7.367660494), (11.317788592, -6.937815491))
            ThreePointArc((11.317788592, -6.937815491), (11.828111536, -6.02672381), (12.265239884, -5.078337619))
            Line((12.265239884, -5.078337619), (13.024951323, -5.393110833))
            ThreePointArc((13.024951323, -5.393110833), (14.318274121, -5.588374447), (15.60574669, -5.35766658))
            ThreePointArc((15.60574669, -5.35766658), (15.692222799, -5.098833142), (15.774406226, -4.838604875))
            ThreePointArc((15.774406226, -4.838604875), (14.86842566, -3.895193515), (13.707329207, -3.292963653))
            Line((13.707329207, -3.292963653), (12.907793057, -3.100725851))
            ThreePointArc((12.907793057, -3.100725851), (13.111569145, -2.076626337), (13.23422421, -1.039678776))
        make_face()
        with Locations(Location((0, 0, 0), (0, 0, 270))):
            Circle(MODEL_R, mode=Mode.SUBTRACT)
    extrude(amount=BOSS_EXTRUDE3_DEPTH)


solid = part.part
